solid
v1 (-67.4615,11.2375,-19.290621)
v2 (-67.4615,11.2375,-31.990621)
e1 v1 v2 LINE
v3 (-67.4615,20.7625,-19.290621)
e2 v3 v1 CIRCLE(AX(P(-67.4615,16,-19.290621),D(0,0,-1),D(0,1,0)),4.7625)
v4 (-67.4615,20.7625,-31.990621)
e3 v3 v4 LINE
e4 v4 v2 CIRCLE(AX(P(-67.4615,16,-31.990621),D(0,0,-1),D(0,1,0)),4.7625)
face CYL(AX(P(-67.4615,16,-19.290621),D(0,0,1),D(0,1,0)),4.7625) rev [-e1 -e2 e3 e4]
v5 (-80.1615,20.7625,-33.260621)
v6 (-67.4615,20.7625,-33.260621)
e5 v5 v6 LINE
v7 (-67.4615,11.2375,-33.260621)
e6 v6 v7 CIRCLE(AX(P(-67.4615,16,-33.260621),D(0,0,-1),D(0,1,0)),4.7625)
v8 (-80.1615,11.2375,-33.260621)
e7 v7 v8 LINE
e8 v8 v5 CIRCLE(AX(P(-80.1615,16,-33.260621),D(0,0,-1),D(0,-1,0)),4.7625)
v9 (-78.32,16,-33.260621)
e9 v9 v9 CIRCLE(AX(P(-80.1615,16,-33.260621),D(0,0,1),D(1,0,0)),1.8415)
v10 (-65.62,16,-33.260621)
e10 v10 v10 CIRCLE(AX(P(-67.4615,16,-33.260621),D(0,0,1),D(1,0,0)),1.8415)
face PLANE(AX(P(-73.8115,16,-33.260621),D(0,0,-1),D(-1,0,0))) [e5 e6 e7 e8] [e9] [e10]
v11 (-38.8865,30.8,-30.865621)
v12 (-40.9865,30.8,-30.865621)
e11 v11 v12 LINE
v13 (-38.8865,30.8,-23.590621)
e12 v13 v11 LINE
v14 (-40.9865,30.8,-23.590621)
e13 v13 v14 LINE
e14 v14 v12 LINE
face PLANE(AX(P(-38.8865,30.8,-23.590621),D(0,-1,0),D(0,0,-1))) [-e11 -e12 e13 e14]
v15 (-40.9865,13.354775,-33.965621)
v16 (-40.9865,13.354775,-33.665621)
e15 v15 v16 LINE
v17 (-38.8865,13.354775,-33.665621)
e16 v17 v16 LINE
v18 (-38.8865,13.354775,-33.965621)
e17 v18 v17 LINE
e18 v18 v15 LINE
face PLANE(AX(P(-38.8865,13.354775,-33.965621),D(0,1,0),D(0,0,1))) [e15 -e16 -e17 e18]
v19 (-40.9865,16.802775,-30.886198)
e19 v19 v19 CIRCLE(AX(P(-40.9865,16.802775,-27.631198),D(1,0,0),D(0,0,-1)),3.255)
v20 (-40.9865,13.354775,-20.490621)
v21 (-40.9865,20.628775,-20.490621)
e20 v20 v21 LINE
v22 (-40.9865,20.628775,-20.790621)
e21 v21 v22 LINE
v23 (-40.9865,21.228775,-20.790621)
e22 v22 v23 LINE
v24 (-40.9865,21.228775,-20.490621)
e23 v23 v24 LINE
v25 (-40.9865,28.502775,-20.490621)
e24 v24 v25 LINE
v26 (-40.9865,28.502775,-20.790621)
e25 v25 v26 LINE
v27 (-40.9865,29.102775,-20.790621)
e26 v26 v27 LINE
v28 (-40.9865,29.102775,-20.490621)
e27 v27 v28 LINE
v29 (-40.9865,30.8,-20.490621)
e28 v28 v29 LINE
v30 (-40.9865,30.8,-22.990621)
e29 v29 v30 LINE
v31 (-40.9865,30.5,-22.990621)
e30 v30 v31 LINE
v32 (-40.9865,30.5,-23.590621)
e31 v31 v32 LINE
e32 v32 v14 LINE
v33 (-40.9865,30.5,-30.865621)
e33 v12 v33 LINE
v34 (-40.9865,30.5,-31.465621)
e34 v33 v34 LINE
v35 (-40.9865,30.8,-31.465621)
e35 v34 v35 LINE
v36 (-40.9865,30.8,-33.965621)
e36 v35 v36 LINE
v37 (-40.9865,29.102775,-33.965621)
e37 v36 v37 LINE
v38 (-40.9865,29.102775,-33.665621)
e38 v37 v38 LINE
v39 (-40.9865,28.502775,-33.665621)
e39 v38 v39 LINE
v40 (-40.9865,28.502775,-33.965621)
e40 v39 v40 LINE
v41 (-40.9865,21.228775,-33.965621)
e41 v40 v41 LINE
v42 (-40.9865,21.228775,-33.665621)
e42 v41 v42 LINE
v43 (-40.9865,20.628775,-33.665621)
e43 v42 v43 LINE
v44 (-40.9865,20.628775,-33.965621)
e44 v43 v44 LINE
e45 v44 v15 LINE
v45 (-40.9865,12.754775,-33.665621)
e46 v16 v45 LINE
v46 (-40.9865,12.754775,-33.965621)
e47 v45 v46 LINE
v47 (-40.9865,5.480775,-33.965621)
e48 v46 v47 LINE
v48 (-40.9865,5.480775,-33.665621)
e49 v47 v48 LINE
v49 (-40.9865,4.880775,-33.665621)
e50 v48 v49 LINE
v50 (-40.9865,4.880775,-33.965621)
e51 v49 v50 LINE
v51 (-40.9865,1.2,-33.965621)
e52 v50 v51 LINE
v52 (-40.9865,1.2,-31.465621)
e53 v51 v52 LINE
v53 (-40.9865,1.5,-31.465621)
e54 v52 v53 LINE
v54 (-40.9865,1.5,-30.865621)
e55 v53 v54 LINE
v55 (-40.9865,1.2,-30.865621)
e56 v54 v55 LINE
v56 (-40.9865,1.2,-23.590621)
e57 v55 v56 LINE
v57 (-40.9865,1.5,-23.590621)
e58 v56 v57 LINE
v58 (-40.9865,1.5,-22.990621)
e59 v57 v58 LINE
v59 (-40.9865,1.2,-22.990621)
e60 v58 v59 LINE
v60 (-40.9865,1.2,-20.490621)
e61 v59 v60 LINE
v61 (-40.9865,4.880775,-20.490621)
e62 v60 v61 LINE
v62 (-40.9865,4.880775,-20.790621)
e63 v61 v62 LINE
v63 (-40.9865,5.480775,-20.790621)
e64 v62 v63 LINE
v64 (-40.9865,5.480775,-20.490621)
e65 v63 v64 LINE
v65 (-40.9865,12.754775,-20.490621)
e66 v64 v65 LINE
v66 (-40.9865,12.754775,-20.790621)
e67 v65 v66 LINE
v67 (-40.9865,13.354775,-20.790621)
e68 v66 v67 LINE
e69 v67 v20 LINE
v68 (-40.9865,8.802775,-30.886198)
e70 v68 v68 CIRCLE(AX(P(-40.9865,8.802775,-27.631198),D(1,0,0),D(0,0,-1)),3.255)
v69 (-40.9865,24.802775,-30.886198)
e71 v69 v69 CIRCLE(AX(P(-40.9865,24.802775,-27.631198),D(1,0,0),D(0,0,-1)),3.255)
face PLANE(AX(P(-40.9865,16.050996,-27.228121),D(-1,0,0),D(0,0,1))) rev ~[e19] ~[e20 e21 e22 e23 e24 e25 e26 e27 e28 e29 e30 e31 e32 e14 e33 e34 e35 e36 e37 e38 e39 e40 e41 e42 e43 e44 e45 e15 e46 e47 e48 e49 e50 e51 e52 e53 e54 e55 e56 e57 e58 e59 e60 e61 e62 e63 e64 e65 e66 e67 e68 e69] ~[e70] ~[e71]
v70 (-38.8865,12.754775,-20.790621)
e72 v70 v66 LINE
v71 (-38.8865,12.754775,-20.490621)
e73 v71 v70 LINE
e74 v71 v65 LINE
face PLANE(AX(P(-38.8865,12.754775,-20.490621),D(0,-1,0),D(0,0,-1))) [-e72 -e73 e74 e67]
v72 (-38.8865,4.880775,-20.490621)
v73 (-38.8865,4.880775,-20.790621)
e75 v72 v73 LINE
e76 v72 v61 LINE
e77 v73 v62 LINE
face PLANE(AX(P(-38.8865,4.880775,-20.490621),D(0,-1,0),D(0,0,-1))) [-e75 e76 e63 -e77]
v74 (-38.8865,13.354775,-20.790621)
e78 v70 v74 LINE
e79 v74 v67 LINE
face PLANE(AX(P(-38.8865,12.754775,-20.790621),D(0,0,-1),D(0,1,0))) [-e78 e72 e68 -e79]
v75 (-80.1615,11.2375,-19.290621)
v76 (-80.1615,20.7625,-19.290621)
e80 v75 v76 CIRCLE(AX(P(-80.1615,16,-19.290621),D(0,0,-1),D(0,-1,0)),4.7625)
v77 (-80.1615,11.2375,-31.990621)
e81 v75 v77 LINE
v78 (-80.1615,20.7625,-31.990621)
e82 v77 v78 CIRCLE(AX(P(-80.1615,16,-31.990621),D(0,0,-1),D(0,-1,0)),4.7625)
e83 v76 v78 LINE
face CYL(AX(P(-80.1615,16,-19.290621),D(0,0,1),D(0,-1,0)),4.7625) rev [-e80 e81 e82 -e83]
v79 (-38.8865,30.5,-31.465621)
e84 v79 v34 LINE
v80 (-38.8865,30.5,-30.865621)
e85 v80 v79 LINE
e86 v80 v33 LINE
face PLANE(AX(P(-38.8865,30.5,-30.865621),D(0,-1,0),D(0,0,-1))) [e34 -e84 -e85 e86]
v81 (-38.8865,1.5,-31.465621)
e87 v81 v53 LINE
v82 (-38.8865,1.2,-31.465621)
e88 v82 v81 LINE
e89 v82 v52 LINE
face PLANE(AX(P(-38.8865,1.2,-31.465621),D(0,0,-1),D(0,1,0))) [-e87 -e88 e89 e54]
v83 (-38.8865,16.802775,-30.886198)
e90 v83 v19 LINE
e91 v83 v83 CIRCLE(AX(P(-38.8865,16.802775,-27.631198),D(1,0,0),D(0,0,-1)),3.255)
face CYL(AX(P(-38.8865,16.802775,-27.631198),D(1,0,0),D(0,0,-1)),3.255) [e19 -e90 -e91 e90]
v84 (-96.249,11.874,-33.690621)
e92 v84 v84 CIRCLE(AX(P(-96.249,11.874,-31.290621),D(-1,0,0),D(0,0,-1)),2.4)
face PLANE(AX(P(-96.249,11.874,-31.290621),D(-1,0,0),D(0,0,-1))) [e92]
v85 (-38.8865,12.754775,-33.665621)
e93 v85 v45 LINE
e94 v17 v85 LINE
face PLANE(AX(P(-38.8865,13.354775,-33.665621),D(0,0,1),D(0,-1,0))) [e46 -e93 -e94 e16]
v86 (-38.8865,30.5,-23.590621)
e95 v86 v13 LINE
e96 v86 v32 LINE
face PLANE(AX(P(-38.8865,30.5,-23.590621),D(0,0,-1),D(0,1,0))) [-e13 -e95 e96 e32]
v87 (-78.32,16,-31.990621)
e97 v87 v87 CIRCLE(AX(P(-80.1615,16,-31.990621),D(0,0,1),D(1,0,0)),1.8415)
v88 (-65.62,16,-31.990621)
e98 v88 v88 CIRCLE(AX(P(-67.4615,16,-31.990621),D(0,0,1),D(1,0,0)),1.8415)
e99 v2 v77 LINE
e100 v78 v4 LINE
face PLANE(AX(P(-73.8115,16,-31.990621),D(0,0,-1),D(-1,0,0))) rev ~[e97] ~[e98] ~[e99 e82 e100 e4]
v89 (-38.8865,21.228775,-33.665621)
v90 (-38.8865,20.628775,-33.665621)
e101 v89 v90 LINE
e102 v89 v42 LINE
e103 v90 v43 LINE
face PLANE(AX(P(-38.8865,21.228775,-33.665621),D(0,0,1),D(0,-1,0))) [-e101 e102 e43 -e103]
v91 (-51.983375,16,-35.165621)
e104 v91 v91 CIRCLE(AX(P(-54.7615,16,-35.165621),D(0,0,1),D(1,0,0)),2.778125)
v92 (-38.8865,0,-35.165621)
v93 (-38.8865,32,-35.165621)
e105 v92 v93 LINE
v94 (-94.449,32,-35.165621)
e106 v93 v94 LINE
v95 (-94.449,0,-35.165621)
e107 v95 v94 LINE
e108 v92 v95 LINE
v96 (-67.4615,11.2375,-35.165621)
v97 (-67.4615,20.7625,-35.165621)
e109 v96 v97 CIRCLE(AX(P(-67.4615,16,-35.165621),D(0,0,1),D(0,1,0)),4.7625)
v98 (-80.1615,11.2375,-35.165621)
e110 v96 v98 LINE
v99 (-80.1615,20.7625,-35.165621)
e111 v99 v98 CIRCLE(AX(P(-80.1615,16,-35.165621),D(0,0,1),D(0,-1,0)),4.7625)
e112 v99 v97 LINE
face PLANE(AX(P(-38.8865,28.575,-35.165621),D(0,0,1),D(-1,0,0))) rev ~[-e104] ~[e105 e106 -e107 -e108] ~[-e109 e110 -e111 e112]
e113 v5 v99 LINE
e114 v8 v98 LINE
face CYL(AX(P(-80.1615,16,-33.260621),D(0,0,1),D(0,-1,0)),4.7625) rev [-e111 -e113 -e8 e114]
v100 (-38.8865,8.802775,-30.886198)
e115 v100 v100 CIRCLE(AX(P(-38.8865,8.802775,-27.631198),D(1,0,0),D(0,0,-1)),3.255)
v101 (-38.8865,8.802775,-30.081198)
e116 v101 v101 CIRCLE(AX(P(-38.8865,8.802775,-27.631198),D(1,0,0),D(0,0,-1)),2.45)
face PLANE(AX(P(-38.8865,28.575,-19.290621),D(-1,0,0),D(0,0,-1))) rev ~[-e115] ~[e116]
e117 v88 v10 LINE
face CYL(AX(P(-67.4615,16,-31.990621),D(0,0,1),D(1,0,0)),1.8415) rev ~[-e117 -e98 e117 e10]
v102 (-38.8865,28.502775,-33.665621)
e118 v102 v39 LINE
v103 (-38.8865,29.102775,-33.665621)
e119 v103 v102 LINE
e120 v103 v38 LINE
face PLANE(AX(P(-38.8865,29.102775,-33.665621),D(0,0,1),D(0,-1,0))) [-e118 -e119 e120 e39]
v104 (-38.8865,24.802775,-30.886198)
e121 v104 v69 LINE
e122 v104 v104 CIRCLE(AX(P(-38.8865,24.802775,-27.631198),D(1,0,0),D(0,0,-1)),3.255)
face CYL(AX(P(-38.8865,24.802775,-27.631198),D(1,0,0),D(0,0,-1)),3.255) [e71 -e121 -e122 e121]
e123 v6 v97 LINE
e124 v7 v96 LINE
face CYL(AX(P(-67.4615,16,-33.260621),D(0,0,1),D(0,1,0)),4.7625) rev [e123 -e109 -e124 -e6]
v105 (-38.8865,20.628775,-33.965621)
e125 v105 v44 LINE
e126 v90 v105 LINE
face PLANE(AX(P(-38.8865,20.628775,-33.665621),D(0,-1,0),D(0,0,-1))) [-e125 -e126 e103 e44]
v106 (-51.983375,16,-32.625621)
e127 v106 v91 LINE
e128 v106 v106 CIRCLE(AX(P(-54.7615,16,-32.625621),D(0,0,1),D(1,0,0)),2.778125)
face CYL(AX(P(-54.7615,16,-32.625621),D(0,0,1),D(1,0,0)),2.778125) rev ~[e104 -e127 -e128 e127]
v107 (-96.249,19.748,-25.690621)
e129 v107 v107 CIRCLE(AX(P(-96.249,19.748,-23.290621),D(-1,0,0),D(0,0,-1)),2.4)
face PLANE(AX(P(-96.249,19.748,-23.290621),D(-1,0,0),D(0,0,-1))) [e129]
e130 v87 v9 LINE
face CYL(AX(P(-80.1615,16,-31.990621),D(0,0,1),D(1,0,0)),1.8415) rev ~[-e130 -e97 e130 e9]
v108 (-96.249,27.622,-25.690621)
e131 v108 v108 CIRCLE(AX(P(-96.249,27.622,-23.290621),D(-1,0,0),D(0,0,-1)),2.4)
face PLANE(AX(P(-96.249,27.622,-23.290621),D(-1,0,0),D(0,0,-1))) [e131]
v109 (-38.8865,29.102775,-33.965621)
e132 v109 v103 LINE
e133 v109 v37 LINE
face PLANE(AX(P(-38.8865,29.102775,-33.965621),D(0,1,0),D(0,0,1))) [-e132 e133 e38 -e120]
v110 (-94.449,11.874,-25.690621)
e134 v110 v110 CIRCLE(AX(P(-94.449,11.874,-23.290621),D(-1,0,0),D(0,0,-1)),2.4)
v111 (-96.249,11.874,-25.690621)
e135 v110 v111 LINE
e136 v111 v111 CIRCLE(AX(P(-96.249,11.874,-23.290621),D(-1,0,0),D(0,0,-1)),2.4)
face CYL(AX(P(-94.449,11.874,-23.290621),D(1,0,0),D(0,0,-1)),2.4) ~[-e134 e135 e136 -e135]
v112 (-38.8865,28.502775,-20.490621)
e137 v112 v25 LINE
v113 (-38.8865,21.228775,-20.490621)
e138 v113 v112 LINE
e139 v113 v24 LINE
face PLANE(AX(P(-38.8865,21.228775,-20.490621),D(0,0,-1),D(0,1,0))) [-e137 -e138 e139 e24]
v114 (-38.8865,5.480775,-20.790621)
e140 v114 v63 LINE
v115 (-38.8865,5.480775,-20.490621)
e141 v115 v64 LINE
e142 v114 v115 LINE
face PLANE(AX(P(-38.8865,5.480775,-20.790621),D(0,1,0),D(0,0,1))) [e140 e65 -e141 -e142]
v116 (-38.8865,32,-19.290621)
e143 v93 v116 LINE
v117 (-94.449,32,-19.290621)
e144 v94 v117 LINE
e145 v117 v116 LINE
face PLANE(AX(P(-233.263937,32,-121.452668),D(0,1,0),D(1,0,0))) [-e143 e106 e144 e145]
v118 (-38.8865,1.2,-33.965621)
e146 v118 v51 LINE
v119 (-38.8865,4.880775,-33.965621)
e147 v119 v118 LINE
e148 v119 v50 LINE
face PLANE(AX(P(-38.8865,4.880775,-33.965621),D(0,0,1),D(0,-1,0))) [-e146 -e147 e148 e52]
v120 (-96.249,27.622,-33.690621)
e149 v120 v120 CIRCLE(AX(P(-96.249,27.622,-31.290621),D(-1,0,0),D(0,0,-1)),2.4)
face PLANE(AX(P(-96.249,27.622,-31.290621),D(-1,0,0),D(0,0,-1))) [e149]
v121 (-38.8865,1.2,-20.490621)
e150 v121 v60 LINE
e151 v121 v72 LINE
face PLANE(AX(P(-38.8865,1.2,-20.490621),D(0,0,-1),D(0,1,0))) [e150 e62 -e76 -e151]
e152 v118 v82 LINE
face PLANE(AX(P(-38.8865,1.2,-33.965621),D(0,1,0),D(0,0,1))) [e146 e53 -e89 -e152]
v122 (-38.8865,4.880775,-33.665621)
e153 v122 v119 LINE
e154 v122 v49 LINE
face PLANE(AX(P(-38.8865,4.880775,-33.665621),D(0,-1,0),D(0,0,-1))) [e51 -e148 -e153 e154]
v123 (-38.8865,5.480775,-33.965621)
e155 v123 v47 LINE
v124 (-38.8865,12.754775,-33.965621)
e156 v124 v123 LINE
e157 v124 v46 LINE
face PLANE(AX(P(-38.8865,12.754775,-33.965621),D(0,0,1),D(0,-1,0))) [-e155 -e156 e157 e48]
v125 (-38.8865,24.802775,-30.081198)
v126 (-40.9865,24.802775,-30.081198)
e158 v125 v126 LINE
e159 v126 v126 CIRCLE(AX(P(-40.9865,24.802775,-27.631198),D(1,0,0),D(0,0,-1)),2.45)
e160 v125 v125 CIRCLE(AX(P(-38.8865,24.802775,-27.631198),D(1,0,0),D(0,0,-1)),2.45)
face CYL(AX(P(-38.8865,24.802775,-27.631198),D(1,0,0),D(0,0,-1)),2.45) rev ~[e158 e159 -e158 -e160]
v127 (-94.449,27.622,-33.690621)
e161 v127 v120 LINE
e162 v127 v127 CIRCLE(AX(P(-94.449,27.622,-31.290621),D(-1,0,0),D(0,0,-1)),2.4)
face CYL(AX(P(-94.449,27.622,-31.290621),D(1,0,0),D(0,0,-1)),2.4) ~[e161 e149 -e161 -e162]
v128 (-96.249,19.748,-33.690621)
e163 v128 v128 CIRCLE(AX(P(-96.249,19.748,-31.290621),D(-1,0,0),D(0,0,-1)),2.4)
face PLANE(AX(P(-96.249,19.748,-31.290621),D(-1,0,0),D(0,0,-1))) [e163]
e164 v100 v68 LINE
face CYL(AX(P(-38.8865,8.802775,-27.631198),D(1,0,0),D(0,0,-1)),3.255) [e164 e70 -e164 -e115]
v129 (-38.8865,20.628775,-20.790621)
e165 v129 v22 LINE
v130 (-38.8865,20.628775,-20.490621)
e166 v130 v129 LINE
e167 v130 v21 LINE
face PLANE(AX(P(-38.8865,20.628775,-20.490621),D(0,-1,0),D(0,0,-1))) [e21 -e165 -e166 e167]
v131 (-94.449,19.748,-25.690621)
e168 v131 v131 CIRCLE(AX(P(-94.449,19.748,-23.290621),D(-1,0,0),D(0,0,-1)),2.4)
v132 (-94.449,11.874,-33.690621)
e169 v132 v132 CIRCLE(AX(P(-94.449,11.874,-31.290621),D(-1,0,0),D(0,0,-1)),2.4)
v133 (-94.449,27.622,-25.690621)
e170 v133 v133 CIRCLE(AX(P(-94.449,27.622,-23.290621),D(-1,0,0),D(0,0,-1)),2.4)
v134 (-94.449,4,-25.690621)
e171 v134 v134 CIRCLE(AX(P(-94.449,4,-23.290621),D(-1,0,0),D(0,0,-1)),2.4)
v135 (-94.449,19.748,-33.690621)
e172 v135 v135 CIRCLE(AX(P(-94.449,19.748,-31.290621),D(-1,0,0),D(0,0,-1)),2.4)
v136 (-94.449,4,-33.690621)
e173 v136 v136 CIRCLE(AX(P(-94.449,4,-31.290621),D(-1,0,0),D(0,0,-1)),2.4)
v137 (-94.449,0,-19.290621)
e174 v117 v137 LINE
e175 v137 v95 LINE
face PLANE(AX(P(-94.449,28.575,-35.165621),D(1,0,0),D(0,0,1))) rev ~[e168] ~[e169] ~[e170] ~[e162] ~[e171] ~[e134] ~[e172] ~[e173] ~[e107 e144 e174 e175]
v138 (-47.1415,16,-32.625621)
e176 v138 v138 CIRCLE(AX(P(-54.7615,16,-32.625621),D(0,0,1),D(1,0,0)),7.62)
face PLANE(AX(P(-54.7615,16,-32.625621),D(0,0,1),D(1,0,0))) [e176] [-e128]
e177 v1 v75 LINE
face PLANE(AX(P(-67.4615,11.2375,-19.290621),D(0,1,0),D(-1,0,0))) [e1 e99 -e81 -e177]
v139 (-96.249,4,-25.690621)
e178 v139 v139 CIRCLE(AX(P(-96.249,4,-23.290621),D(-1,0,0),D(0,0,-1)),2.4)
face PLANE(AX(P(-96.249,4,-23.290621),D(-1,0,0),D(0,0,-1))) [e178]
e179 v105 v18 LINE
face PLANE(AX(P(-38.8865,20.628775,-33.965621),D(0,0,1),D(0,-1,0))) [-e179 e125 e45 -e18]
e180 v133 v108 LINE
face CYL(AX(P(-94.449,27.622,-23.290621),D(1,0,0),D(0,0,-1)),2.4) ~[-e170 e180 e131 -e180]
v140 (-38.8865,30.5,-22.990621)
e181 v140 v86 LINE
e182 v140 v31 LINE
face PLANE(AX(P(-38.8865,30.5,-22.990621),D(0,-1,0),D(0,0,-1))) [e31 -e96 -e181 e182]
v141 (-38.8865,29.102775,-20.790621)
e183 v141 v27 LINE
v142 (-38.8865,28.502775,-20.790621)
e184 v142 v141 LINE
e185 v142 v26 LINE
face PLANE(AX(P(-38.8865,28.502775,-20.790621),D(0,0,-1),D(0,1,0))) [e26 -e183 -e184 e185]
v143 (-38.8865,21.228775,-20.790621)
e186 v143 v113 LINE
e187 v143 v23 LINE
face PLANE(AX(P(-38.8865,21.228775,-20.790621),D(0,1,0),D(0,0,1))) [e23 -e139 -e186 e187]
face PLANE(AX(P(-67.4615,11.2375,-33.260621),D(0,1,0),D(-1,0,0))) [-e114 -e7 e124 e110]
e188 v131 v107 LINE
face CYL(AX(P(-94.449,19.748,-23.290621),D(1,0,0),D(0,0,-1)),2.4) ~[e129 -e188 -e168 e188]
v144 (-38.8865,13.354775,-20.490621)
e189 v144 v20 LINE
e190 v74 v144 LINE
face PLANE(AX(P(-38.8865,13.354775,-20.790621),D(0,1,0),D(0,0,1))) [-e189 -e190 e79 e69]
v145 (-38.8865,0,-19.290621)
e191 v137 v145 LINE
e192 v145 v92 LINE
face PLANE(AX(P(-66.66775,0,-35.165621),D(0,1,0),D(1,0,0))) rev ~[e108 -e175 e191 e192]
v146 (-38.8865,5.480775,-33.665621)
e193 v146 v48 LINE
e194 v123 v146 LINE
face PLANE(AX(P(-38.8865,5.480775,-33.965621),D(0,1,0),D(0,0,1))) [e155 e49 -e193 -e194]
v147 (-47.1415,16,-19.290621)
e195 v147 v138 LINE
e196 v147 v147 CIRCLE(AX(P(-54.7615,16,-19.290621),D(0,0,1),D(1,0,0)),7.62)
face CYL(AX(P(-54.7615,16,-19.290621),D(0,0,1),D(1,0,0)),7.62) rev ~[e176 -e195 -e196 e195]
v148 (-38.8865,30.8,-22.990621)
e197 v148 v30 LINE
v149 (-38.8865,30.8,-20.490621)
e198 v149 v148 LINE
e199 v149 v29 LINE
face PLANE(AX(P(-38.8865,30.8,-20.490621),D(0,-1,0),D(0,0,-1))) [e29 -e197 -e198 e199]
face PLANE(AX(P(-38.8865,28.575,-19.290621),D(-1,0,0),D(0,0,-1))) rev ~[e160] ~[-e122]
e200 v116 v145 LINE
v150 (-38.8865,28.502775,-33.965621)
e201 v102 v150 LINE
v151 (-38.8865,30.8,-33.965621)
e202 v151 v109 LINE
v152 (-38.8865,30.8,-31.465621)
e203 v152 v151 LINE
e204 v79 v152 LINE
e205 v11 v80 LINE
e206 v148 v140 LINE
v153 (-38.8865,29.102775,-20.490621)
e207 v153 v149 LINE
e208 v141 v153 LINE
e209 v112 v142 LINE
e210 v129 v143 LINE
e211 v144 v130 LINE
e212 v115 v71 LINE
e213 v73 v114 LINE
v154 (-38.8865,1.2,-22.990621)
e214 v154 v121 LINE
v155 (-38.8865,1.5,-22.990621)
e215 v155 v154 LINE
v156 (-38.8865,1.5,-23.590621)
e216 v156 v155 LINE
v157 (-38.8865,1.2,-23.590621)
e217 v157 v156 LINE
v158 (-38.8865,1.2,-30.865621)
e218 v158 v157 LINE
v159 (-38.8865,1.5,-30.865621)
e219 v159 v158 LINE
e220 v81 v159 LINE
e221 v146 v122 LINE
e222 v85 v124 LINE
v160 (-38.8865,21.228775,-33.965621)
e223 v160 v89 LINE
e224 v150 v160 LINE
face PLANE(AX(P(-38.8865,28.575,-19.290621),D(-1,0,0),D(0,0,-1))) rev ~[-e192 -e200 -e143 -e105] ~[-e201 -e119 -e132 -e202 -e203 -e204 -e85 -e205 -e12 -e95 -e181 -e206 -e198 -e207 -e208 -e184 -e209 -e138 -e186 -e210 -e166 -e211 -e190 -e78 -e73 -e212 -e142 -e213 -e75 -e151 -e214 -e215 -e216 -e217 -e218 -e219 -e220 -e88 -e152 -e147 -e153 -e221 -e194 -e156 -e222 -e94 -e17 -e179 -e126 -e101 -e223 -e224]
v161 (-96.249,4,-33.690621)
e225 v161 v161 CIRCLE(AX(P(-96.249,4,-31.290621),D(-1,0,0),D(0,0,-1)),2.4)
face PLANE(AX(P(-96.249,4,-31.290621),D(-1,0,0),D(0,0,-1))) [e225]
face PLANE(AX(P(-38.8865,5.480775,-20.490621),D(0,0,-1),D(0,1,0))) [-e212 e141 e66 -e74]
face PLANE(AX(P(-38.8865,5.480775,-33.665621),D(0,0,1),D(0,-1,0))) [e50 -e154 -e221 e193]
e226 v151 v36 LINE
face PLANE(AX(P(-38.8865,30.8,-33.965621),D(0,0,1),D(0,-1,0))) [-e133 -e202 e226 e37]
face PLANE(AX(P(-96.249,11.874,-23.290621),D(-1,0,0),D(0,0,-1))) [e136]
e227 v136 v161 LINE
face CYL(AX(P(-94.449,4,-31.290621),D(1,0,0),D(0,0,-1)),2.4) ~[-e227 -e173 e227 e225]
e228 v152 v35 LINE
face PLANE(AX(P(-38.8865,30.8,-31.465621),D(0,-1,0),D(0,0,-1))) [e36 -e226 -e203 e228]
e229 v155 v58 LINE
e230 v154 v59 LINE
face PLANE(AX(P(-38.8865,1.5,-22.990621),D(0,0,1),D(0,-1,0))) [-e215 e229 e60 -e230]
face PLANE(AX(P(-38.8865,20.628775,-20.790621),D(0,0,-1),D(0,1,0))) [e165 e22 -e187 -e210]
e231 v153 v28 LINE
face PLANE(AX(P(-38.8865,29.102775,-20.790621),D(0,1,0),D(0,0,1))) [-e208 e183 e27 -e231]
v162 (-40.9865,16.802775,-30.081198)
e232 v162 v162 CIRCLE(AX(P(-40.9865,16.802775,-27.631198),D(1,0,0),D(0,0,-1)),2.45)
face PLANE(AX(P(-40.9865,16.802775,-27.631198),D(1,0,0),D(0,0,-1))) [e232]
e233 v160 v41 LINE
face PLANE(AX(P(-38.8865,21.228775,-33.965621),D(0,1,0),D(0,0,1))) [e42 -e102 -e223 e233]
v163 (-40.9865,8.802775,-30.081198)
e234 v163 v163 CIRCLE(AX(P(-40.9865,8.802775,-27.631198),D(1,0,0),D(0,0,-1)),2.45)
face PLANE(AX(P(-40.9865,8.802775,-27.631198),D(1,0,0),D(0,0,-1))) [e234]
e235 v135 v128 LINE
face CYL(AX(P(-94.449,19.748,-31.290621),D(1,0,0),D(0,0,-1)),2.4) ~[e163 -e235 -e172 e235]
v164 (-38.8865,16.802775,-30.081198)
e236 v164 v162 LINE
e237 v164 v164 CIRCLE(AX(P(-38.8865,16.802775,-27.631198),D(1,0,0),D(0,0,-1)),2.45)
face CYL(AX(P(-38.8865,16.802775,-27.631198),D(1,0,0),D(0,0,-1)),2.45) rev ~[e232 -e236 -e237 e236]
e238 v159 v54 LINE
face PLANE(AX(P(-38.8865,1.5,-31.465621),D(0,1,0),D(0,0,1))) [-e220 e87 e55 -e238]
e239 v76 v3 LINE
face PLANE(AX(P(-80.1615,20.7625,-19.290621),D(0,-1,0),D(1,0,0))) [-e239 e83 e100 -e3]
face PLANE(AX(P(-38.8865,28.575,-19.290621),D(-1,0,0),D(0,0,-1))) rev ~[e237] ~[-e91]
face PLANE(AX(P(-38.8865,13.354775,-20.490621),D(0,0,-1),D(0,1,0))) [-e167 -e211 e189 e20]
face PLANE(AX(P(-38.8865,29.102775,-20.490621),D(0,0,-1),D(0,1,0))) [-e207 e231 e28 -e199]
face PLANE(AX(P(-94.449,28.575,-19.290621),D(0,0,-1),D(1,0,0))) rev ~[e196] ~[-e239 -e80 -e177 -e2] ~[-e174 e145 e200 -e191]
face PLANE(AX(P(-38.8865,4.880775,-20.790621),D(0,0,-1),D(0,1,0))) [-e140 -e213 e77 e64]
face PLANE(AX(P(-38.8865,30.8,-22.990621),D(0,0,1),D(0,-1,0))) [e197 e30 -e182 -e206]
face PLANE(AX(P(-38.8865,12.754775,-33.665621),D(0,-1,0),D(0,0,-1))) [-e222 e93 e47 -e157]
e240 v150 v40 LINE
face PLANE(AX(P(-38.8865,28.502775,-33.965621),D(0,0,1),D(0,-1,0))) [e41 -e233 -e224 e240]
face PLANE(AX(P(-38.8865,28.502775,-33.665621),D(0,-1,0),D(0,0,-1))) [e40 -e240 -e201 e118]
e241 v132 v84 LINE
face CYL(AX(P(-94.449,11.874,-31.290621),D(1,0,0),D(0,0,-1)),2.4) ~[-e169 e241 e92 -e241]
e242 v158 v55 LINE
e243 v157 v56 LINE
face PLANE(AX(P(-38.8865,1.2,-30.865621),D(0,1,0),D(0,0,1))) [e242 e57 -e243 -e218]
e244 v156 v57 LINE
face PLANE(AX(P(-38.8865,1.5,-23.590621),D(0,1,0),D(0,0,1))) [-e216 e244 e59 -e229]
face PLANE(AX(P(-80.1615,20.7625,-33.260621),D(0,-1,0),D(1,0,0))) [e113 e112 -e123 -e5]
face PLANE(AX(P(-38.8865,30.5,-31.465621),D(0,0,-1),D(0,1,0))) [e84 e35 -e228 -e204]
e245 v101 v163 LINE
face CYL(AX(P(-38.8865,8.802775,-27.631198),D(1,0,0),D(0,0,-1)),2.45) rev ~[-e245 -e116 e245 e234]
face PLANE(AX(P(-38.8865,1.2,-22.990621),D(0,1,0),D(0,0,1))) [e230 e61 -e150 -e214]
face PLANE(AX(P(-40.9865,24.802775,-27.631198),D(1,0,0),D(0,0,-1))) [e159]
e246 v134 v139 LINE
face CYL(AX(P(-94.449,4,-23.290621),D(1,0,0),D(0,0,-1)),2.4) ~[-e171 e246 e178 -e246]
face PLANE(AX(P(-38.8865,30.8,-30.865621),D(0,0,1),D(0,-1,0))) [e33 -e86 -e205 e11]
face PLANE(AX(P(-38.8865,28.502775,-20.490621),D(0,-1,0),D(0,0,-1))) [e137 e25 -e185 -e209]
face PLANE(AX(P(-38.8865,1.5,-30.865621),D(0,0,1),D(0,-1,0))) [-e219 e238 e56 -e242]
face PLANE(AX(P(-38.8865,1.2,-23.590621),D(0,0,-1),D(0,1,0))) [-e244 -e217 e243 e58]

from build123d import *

# Parameters (mm, degrees)
SKETCH1_W               = 55.5625
SKETCH1_H               = 31.75
BOSS_EXTRUDE1_DEPTH     = 28.575
SKETCH2_R               = 7.62
CUT_EXTRUDE1_DEPTH      = 13.335
CUT_EXTRUDE2_DEPTH      = 12.7
SKETCH4_R               = 1.8415
CUT_EXTRUDE3_DEPTH      = 25.4
CUT_EXTRUDE4_START      = -17.78
CUT_EXTRUDE4_DEPTH      = 17.78
SKETCH6_W               = 55.5625
SKETCH6_H               = 28.575
CUT_EXTRUDE5_DEPTH      = 15.875
SKETCH7_R               = 2.778125
CUT_EXTRUDE7_DEPTH      = 7.9375
BOSS_EXTRUDE3_DEPTH     = 4
CUT_EXTRUDE8_DEPTH      = 102.162047202
CUT_EXTRUDE8_DEPTH_BACK = 102.162047202
SKETCH19_R              = 3.255
SKETCH19_R_2            = 2.45
CUT_EXTRUDE11_DEPTH     = 2.1
SKETCH20_R              = 2.4
BOSS_EXTRUDE4_DEPTH     = 1.8


with BuildPart() as part:
    # Sketch1 → Boss-Extrude1 (new body)
    with BuildSketch(Plane(origin=(0, 0, 0), x_dir=(1, 0, 0), z_dir=(0, 1, 0))):
        with Locations((-66.667749699, 35.16562105)):
            Rectangle(SKETCH1_W, SKETCH1_H)
    extrude(amount=BOSS_EXTRUDE1_DEPTH)

    # Sketch2 → Cut-Extrude1 (cut)
    with BuildSketch(Plane.XY.offset(-19.29062105)):
        with Locations((-54.761499699, 16)):
            Circle(SKETCH2_R)
    extrude(amount=-CUT_EXTRUDE1_DEPTH, mode=Mode.SUBTRACT)

    # Sketch3 → Cut-Extrude2 (cut)
    with BuildSketch(Plane.XY.offset(-19.29062105)):
        with BuildLine():
            Line((-80.161499699, 20.7625), (-67.461499699, 20.7625))
            ThreePointArc((-67.461499699, 20.7625), (-62.698999699, 16), (-67.461499699, 11.2375))
            Line((-67.461499699, 11.2375), (-80.161499699, 11.2375))
            ThreePointArc((-80.161499699, 11.2375), (-84.923999699, 16), (-80.161499699, 20.7625))
        make_face()
    extrude(amount=-CUT_EXTRUDE2_DEPTH, mode=Mode.SUBTRACT)

    # Sketch4 → Cut-Extrude3 (cut)
    with BuildSketch(Plane.XY.offset(-31.99062105)):
        with Locations((-80.161499699, 16)):
            Circle(SKETCH4_R)
        with Locations((-67.461499699, 16)):
            Circle(SKETCH4_R)
    extrude(amount=-CUT_EXTRUDE3_DEPTH, mode=Mode.SUBTRACT)

    # Sketch5 → Cut-Extrude4 (cut)
    with BuildSketch(Plane(origin=(0, 0, -51.04062105), x_dir=(-1, 0, 0), z_dir=(0, 0, -1)).offset(CUT_EXTRUDE4_START)):
        with BuildLine():
            Line((67.461499699, 11.2375), (80.161499699, 11.2375))
            ThreePointArc((80.161499699, 11.2375), (84.923999699, 16), (80.161499699, 20.7625))
            Line((80.161499699, 20.7625), (67.461499699, 20.7625))
            ThreePointArc((67.461499699, 20.7625), (62.698999699, 16), (67.461499699, 11.2375))
        make_face()
    extrude(amount=CUT_EXTRUDE4_DEPTH, mode=Mode.SUBTRACT)

    # Sketch6 → Cut-Extrude5 (cut)
    with BuildSketch(Plane(origin=(0, 0, -51.04062105), x_dir=(-1, 0, 0), z_dir=(0, 0, -1))):
        with Locations((66.667749699, 14.2875)):
            Rectangle(SKETCH6_W, SKETCH6_H)
    extrude(amount=-CUT_EXTRUDE5_DEPTH, mode=Mode.SUBTRACT)

    # Sketch7 → Cut-Extrude7 (cut)
    with BuildSketch(Plane.XY.offset(-32.62562105)):
        with Locations((-54.761499699, 16)):
            Circle(SKETCH7_R)
    extrude(amount=-CUT_EXTRUDE7_DEPTH, mode=Mode.SUBTRACT)

    # Sketch10 → Boss-Extrude3 (add)
    with BuildSketch(Plane(origin=(0, 28.575, 0), x_dir=(1, 0, 0), z_dir=(0, 1, 0))):
        Polygon((-38.886499699, 19.29062105), (-38.886499699, 20.962942907), (-38.886499699, 25.368299192), (-38.886499699, 28.962942907), (-38.886499699, 33.368299192), (-38.886499699, 35.16562105), (-94.448999699, 35.16562105), (-94.448999699, 19.29062105), align=None)
    extrude(amount=BOSS_EXTRUDE3_DEPTH)

    # Sketch11 → Cut-Extrude8 (cut, two sides: drawn at the far end of the back side and taken through both)
    with BuildSketch(Plane.XY.offset(-19.29062105).offset(-CUT_EXTRUDE8_DEPTH_BACK)):
        Polygon((-233.263937206, 32), (-94.448999699, 32), (-38.886499699, 32), (-38.886499699, 32.575), (-38.886499699, 0), (-94.448999699, 0), (-94.448999699, 32.575), (-38.886499699, 32.575), (99.928437808, 32.575), (99.449324382, 310.204461605), (-233.743050633, 309.629461605), align=None)
    extrude(amount=CUT_EXTRUDE8_DEPTH + CUT_EXTRUDE8_DEPTH_BACK, mode=Mode.SUBTRACT)


with BuildPart() as cut_extrude8_kept_piece:
    # of the separate pieces the step leaves, the one the design keeps (cut_extrude8_pieces_kept)
    add(part.part.solids().sort_by_distance((-94.448999699, 0, -19.29062105))[0])

    # Sketch19 → Cut-Extrude11 (cut)
    # profile 1 of 4: a face of its own
    with BuildSketch(Plane(origin=(-38.886499699, 0, 0), x_dir=(0, 0, -1), z_dir=(1, 0, 0))):
        Polygon((20.49062105, 30.8), (22.99062105, 30.8), (22.99062105, 30.5), (23.59062105, 30.5), (23.59062105, 30.8), (30.86562105, 30.8), (30.86562105, 30.5), (31.46562105, 30.5), (31.46562105, 30.8), (33.96562105, 30.8), (33.96562105, 29.102775386), (33.66562105, 29.102775386), (33.66562105, 28.502775386), (33.96562105, 28.502775386), (33.96562105, 21.228775386), (33.66562105, 21.228775386), (33.66562105, 20.628775386), (33.96562105, 20.628775386), (33.96562105, 13.354775386), (33.66562105, 13.354775386), (33.66562105, 12.754775386), (33.96562105, 12.754775386), (33.96562105, 5.480775386), (33.66562105, 5.480775386), (33.66562105, 4.880775386), (33.96562105, 4.880775386), (33.96562105, 1.2), (31.46562105, 1.2), (31.46562105, 1.5), (30.86562105, 1.5), (30.86562105, 1.2), (23.59062105, 1.2), (23.59062105, 1.5), (22.99062105, 1.5), (22.99062105, 1.2), (20.49062105, 1.2), (20.49062105, 4.880775386), (20.79062105, 4.880775386), (20.79062105, 5.480775386), (20.49062105, 5.480775386), (20.49062105, 12.754775386), (20.79062105, 12.754775386), (20.79062105, 13.354775386), (20.49062105, 13.354775386), (20.49062105, 20.628775386), (20.79062105, 20.628775386), (20.79062105, 21.228775386), (20.49062105, 21.228775386), (20.49062105, 28.502775386), (20.79062105, 28.502775386), (20.79062105, 29.102775386), (20.49062105, 29.102775386), align=None)
        with Locations((27.631198139, 24.802775386)):
            Circle(SKETCH19_R, mode=Mode.SUBTRACT)
        with Locations((27.631198139, 16.802775386)):
            Circle(SKETCH19_R, mode=Mode.SUBTRACT)
        with Locations((27.631198139, 8.802775386)):
            Circle(SKETCH19_R, mode=Mode.SUBTRACT)
    # profile 2 of 4: a face of its own
    with BuildSketch(Plane(origin=(-38.886499699, 0, 0), x_dir=(0, 0, -1), z_dir=(1, 0, 0))):
        with Locations((27.631198139, 8.802775386)):
            Circle(SKETCH19_R_2)
    # profile 3 of 4: a face of its own
    with BuildSketch(Plane(origin=(-38.886499699, 0, 0), x_dir=(0, 0, -1), z_dir=(1, 0, 0))):
        with Locations((27.631198139, 16.802775386)):
            Circle(SKETCH19_R_2)
    # profile 4 of 4: a face of its own
    with BuildSketch(Plane(origin=(-38.886499699, 0, 0), x_dir=(0, 0, -1), z_dir=(1, 0, 0))):
        with Locations((27.631198139, 24.802775386)):
            Circle(SKETCH19_R_2)
    extrude(amount=-CUT_EXTRUDE11_DEPTH, mode=Mode.SUBTRACT)

    # Sketch20 → Boss-Extrude4 (add)
    with BuildSketch(Plane.ZY.offset(94.448999699)):
        with Locations(Location((-23.29062105, 4, 0), (0, 0, 180))):
            Circle(SKETCH20_R)
        with Locations(Location((-31.29062105, 4, 0), (0, 0, 180))):
            Circle(SKETCH20_R)
        with Locations(Location((-31.29062105, 11.874, 0), (0, 0, 180))):
            Circle(SKETCH20_R)
        with Locations(Location((-23.29062105, 11.874, 0), (0, 0, 180))):
            Circle(SKETCH20_R)
        with Locations(Location((-31.29062105, 19.748, 0), (0, 0, 180))):
            Circle(SKETCH20_R)
        with Locations(Location((-23.29062105, 19.748, 0), (0, 0, 180))):
            Circle(SKETCH20_R)
        with Locations(Location((-31.29062105, 27.622, 0), (0, 0, 180))):
            Circle(SKETCH20_R)
        with Locations(Location((-23.29062105, 27.622, 0), (0, 0, 180))):
            Circle(SKETCH20_R)
    extrude(amount=BOSS_EXTRUDE4_DEPTH)


solid = cut_extrude8_kept_piece.part
